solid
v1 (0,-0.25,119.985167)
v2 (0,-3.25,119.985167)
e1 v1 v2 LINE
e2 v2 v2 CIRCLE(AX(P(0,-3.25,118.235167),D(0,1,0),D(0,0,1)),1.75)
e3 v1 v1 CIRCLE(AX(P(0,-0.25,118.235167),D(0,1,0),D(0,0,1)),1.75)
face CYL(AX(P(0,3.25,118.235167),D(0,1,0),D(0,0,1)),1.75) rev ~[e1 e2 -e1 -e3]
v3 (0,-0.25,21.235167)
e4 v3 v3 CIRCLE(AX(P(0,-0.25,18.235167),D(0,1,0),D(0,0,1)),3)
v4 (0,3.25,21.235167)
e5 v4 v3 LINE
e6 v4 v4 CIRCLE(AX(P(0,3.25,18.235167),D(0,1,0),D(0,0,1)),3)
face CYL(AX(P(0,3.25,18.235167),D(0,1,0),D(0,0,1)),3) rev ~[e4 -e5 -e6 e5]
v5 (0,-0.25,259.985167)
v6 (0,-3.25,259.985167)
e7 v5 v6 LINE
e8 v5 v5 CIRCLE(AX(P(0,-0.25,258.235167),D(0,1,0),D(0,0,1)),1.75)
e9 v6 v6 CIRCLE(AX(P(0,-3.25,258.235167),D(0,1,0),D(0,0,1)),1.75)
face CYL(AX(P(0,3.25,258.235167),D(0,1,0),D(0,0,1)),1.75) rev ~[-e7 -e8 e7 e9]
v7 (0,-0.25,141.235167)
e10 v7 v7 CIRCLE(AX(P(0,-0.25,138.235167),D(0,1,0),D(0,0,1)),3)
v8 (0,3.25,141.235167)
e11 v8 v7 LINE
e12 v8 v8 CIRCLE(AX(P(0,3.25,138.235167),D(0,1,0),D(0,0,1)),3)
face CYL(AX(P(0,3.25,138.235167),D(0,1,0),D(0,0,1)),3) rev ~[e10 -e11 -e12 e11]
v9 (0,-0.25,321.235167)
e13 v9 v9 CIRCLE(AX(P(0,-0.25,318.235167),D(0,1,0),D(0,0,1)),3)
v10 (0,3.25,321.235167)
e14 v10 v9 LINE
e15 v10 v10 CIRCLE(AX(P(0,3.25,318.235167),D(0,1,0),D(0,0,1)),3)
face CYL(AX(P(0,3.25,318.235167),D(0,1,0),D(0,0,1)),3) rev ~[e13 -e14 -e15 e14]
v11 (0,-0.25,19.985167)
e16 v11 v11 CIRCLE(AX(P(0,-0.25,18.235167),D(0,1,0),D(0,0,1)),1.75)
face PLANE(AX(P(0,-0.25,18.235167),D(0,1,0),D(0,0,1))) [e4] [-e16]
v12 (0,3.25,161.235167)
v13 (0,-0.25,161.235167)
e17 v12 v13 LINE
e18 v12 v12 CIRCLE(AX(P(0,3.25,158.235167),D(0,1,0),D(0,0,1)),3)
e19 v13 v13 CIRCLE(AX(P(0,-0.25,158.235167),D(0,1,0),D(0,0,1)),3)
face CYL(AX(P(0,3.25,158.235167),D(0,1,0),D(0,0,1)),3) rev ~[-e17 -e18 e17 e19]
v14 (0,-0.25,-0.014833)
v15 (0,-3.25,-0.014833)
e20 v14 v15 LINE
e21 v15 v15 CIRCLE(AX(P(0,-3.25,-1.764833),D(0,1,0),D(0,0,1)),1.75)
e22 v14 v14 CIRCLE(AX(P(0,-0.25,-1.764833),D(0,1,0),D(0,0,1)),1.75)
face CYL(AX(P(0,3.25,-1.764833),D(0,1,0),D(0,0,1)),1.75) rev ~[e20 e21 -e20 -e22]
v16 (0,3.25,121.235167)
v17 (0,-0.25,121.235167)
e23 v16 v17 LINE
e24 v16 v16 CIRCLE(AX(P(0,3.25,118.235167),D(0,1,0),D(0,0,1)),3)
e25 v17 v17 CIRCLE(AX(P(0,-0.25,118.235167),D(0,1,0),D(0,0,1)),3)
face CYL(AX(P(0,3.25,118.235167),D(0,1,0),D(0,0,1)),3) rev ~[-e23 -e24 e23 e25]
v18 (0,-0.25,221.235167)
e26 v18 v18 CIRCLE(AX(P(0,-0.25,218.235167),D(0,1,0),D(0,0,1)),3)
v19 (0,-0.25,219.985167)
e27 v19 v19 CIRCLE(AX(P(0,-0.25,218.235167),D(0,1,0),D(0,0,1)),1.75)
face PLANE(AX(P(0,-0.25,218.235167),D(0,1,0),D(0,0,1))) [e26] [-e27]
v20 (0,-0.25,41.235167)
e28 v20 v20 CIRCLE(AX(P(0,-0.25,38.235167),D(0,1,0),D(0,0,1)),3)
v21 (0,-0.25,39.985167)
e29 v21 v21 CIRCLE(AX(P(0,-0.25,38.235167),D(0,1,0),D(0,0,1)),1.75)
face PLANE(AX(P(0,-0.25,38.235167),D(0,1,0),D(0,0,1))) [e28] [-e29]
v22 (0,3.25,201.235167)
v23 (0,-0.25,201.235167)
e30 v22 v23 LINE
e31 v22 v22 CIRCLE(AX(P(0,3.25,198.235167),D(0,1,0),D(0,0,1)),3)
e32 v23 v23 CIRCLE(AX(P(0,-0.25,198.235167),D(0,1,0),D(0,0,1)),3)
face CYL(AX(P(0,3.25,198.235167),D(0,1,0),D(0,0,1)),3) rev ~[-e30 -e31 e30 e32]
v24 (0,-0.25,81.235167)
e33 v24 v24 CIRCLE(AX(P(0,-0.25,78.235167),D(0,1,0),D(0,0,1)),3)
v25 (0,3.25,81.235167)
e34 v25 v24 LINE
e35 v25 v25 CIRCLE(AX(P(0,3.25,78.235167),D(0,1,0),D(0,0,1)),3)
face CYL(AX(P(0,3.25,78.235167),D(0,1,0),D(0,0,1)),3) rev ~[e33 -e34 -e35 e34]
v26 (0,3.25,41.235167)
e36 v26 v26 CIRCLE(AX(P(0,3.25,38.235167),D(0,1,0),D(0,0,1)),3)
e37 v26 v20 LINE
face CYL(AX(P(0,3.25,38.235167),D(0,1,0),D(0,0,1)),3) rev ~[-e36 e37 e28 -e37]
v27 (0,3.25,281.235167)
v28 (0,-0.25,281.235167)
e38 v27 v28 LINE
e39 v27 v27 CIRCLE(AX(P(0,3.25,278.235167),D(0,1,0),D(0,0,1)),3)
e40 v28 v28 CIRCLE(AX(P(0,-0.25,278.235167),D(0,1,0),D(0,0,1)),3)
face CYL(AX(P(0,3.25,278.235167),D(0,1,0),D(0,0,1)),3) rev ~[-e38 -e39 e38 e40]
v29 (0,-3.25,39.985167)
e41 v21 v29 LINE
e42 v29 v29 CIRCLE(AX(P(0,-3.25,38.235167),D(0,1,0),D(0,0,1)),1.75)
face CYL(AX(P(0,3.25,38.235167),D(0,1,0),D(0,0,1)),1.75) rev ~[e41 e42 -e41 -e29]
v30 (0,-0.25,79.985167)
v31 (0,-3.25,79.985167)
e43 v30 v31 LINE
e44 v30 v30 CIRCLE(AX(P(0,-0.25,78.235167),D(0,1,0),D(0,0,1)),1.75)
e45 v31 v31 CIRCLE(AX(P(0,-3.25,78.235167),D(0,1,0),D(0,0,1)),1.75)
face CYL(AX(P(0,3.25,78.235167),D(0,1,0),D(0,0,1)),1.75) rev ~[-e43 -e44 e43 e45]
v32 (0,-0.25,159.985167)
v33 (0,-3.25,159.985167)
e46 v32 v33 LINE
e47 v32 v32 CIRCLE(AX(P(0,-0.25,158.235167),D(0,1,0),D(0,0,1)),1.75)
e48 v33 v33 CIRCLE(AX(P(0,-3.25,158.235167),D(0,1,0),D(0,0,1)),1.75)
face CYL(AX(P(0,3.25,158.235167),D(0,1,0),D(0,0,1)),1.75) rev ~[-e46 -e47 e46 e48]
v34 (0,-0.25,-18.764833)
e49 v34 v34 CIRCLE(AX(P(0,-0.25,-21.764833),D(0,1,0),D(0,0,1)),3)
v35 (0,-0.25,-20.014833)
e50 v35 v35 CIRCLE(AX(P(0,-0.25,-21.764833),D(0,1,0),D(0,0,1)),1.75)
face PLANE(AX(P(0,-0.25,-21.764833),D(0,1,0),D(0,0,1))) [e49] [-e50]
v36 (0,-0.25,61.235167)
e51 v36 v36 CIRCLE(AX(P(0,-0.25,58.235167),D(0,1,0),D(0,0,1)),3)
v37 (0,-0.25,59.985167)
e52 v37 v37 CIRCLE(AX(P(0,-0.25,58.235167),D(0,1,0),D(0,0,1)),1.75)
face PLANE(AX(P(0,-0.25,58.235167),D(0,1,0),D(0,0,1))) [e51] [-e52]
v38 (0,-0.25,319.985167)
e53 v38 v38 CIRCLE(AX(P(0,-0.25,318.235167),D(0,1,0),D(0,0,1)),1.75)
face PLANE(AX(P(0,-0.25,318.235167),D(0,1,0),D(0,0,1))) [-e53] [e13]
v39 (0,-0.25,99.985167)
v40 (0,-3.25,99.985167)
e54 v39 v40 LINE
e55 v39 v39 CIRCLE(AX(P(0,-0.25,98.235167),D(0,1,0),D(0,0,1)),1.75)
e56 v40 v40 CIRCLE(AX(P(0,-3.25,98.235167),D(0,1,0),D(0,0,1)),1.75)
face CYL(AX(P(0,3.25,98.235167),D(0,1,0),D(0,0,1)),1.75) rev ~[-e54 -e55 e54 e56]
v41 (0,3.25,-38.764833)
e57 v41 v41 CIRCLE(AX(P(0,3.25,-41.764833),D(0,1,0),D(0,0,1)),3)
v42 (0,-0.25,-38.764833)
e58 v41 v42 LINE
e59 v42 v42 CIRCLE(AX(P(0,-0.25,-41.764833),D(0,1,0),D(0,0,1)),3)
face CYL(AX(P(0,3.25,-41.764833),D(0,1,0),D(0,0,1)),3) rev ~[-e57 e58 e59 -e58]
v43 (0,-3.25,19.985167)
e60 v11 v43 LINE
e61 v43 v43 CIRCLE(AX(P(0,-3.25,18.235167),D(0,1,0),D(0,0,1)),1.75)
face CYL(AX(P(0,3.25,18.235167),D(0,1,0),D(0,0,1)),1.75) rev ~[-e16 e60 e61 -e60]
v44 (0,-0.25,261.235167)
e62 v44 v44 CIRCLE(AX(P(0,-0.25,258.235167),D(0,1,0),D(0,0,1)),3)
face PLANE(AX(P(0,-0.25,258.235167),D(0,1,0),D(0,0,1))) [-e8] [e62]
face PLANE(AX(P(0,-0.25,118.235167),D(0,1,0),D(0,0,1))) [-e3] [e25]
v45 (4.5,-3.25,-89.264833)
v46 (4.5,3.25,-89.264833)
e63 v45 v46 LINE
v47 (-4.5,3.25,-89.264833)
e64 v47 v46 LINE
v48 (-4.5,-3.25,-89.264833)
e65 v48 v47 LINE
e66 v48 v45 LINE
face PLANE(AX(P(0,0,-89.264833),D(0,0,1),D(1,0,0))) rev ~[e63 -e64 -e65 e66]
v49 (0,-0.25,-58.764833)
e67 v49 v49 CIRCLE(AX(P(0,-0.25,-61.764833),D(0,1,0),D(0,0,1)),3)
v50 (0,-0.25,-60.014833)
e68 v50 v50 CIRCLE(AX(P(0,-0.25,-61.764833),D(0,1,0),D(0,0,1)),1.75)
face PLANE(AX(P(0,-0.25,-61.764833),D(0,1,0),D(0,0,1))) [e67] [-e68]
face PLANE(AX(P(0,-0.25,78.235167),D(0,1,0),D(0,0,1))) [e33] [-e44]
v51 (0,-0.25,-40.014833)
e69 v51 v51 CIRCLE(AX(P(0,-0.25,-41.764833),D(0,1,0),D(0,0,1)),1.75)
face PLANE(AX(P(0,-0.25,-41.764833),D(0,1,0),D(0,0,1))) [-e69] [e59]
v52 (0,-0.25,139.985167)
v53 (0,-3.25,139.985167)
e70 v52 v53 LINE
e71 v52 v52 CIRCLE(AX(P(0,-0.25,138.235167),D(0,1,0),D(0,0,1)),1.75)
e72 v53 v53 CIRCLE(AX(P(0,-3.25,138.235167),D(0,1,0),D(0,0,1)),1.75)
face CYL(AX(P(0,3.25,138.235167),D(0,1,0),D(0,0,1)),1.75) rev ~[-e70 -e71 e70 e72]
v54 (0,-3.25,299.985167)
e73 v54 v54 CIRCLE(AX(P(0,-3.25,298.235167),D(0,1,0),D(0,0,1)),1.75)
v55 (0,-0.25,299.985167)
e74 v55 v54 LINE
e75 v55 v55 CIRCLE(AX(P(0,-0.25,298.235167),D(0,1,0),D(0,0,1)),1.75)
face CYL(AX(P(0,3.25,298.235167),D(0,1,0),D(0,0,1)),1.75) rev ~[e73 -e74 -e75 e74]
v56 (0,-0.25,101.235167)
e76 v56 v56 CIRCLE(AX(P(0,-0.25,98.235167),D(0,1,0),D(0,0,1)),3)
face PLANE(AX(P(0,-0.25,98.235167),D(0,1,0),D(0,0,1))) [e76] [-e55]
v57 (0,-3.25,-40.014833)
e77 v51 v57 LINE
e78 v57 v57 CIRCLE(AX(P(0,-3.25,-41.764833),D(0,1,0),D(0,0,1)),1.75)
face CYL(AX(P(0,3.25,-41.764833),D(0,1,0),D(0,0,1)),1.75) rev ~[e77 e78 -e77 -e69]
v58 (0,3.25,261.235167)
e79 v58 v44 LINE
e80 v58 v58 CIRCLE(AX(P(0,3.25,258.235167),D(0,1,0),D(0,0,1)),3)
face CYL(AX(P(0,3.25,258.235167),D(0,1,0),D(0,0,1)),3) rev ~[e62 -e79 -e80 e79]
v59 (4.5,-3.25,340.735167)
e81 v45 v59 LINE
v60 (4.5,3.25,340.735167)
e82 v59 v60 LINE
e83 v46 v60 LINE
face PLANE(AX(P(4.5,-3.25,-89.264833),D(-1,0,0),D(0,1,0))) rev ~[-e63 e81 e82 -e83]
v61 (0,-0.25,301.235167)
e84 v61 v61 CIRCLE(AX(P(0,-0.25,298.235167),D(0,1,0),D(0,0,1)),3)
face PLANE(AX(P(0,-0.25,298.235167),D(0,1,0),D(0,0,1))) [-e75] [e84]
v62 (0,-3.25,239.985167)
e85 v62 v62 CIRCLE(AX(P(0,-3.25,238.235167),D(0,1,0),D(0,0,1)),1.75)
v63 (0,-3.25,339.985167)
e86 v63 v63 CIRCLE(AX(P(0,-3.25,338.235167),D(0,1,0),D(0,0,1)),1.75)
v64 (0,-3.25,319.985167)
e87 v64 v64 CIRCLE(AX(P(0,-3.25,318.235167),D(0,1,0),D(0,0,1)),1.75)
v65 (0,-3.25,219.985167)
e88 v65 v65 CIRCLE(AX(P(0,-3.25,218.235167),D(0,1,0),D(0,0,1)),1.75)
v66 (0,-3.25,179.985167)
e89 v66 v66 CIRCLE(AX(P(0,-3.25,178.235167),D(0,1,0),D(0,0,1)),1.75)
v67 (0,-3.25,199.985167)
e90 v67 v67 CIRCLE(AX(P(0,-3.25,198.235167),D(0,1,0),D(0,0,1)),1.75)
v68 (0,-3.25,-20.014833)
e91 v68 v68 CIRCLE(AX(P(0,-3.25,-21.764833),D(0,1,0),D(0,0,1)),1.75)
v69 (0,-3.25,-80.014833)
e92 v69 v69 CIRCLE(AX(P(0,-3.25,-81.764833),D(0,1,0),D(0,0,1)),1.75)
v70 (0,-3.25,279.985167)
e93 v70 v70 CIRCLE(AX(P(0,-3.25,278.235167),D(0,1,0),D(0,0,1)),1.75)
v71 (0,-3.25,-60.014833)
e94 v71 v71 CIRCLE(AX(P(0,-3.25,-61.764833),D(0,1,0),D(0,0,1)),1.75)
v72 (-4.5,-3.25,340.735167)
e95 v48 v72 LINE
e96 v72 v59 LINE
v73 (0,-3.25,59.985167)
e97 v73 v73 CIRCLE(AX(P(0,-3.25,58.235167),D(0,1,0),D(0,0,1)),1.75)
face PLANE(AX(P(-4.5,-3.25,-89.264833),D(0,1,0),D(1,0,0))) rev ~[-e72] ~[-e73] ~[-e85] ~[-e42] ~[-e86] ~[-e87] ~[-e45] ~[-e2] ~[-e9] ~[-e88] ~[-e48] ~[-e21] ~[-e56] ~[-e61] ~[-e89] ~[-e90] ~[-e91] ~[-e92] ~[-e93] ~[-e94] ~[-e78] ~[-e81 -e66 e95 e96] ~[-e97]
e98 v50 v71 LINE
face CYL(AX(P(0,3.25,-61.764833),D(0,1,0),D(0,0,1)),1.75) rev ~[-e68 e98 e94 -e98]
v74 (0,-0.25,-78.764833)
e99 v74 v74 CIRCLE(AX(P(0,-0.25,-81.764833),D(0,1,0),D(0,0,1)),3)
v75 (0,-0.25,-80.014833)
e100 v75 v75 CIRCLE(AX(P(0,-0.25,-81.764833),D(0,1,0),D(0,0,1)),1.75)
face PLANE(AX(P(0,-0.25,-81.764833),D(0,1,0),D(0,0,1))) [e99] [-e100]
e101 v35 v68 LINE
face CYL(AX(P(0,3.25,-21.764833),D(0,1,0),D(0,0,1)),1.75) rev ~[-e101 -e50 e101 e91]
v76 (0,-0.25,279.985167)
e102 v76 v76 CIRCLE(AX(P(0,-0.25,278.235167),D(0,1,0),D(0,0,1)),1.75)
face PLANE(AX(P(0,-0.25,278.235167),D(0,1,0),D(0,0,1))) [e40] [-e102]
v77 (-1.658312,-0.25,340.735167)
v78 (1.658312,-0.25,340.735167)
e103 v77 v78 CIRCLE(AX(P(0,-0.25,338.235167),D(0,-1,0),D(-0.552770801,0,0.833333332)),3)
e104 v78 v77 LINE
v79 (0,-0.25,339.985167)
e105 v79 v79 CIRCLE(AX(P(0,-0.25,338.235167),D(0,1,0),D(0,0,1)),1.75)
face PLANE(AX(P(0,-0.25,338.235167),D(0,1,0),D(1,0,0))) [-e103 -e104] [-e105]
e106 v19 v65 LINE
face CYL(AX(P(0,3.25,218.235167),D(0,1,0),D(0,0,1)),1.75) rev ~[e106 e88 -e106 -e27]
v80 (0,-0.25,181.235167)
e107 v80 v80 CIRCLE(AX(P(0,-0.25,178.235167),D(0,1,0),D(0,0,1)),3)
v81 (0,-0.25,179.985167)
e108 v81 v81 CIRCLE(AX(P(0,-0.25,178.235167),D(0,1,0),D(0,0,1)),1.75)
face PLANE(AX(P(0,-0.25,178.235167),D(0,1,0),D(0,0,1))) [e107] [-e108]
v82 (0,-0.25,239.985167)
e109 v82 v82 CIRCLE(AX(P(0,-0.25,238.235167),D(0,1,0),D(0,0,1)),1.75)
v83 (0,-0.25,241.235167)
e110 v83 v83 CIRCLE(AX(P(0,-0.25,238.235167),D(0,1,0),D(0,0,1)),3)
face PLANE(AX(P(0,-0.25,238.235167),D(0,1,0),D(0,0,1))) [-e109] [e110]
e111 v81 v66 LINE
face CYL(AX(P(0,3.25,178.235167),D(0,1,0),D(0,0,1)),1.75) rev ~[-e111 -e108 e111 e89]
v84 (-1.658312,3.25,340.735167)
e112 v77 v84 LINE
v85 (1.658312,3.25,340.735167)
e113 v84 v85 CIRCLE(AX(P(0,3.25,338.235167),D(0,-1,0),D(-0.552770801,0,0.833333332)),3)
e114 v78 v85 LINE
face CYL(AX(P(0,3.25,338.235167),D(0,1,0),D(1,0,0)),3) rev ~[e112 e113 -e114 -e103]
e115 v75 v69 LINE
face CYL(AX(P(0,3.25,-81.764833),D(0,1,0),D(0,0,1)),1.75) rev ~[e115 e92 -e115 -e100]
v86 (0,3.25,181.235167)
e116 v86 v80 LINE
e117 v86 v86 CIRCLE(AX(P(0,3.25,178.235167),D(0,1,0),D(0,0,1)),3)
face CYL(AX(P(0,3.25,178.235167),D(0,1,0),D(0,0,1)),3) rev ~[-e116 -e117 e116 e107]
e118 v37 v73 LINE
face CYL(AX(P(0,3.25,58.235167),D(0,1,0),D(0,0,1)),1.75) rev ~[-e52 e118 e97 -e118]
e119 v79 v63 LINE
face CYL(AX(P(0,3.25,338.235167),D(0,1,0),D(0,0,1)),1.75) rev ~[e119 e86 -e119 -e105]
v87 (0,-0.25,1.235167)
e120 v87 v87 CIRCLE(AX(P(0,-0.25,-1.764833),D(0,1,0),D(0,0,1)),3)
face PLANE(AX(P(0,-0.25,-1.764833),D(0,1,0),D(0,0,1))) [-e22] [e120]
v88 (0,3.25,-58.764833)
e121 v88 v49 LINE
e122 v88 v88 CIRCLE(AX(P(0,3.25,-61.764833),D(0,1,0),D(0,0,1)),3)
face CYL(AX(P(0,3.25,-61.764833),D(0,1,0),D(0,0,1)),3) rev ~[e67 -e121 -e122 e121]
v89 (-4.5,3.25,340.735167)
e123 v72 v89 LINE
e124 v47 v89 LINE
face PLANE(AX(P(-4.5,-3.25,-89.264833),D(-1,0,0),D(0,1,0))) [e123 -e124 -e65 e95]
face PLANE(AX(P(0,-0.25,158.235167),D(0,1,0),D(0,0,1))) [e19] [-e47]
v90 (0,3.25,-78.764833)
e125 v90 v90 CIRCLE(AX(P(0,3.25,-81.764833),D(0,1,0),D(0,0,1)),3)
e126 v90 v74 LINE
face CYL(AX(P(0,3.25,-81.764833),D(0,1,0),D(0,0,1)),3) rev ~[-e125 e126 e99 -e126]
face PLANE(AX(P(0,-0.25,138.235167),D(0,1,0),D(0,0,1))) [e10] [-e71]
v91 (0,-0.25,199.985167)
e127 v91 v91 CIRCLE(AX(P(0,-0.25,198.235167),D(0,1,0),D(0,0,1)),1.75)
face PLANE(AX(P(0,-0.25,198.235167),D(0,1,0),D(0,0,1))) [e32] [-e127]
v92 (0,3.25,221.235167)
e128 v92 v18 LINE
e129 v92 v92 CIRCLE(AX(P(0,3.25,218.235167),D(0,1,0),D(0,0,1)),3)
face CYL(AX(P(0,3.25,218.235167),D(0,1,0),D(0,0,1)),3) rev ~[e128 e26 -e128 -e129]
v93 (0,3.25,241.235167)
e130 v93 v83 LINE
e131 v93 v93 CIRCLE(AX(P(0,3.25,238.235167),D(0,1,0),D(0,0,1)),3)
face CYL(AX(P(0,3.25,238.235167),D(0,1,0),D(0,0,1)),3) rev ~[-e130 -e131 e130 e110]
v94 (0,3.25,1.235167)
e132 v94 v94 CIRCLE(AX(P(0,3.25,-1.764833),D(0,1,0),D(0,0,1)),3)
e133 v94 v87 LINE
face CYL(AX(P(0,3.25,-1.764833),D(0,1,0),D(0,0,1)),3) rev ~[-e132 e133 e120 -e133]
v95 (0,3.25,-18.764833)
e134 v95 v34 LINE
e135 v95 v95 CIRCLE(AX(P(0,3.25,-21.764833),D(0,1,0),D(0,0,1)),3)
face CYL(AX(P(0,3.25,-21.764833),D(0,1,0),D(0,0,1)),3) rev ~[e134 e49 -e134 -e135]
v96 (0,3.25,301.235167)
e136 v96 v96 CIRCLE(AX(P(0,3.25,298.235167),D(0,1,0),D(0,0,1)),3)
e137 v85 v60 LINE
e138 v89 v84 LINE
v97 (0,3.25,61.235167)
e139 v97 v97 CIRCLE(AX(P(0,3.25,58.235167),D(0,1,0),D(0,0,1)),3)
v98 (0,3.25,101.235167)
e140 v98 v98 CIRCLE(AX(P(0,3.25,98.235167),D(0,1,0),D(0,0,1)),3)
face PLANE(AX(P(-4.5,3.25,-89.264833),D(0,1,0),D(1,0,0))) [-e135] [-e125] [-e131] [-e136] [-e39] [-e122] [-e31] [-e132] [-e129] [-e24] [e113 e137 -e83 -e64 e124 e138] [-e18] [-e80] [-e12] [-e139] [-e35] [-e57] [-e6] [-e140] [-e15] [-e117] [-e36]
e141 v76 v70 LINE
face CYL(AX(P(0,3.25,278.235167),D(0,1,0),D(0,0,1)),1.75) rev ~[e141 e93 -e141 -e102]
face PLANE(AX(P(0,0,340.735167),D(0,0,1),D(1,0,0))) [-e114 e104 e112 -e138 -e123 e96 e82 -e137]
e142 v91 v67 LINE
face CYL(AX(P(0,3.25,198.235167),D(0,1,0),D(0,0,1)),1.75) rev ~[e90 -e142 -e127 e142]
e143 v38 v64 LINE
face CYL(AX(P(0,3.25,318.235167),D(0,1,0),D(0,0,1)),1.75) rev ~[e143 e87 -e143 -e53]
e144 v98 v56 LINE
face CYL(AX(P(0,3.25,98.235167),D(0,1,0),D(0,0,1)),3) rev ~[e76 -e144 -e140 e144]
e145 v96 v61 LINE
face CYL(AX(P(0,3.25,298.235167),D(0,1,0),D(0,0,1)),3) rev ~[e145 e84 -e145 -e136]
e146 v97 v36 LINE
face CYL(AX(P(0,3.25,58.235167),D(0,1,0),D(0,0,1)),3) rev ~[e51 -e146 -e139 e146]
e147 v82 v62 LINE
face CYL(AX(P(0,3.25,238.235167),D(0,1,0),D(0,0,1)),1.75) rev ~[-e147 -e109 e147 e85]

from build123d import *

# Parameters (mm, degrees)
SKETCH_1_W          = 9
SKETCH_1_H          = 6.5
EXTRUDE_1_DEPTH     = 430
SKETCH_2_R          = 1.750000006
CUT_EXTRUDE_1_DEPTH = 341.826868595
SKETCH_3_R          = 3.000000006
CUT_EXTRUDE_2_DEPTH = 3.5


with BuildPart() as part:
    # 草图1 → 凸台-拉伸1 (new body)
    with BuildSketch(Plane.XY.offset(-89.264832522)):
        Rectangle(SKETCH_1_W, SKETCH_1_H)
    extrude(amount=EXTRUDE_1_DEPTH)

    # 草图2 → 切除-拉伸1 (cut, through all)
    with BuildSketch(Plane(origin=(0, 3.25, 0), x_dir=(1, 0, 0), z_dir=(0, 1, 0))):
        with Locations(Location((0, 81.764832522, 0), (0, 0, 270))):
            Circle(SKETCH_2_R)
        with Locations(Location((0, 61.764832522, 0), (0, 0, 270))):
            Circle(SKETCH_2_R)
        with Locations(Location((0, 41.764832522, 0), (0, 0, 270))):
            Circle(SKETCH_2_R)
        with Locations(Location((0, 21.764832522, 0), (0, 0, 270))):
            Circle(SKETCH_2_R)
        with Locations(Location((0, 1.764832522, 0), (0, 0, 270))):
            Circle(SKETCH_2_R)
        with Locations(Location((0, -18.235167478, 0), (0, 0, 270))):
            Circle(SKETCH_2_R)
        with Locations(Location((0, -38.235167478, 0), (0, 0, 270))):
            Circle(SKETCH_2_R)
        with Locations(Location((0, -58.235167478, 0), (0, 0, 270))):
            Circle(SKETCH_2_R)
        with Locations(Location((0, -78.235167478, 0), (0, 0, 270))):
            Circle(SKETCH_2_R)
        with Locations(Location((0, -98.235167478, 0), (0, 0, 270))):
            Circle(SKETCH_2_R)
        with Locations(Location((0, -118.235167478, 0), (0, 0, 270))):
            Circle(SKETCH_2_R)
        with Locations(Location((0, -138.235167478, 0), (0, 0, 270))):
            Circle(SKETCH_2_R)
        with Locations(Location((0, -158.235167478, 0), (0, 0, 270))):
            Circle(SKETCH_2_R)
        with Locations(Location((0, -178.235167478, 0), (0, 0, 270))):
            Circle(SKETCH_2_R)
        with Locations(Location((0, -198.235167478, 0), (0, 0, 270))):
            Circle(SKETCH_2_R)
        with Locations(Location((0, -218.235167478, 0), (0, 0, 270))):
            Circle(SKETCH_2_R)
        with Locations(Location((0, -238.235167478, 0), (0, 0, 270))):
            Circle(SKETCH_2_R)
        with Locations(Location((0, -258.235167478, 0), (0, 0, 270))):
            Circle(SKETCH_2_R)
        with Locations(Location((0, -278.235167478, 0), (0, 0, 270))):
            Circle(SKETCH_2_R)
        with Locations(Location((0, -298.235167478, 0), (0, 0, 270))):
            Circle(SKETCH_2_R)
        with Locations(Location((0, -318.235167478, 0), (0, 0, 270))):
            Circle(SKETCH_2_R)
        with Locations(Location((0, -338.235167478, 0), (0, 0, 270))):
            Circle(SKETCH_2_R)
        with Locations((0, -358.235167478)):
            Circle(SKETCH_2_R)
        with Locations((0, -378.235167478)):
            Circle(SKETCH_2_R)
        with Locations((0, -398.235167478)):
            Circle(SKETCH_2_R)
        with Locations((0, -418.235167478)):
            Circle(SKETCH_2_R)
        with Locations((0, -438.235167478)):
            Circle(SKETCH_2_R)
        with Locations((0, -458.235167478)):
            Circle(SKETCH_2_R)
        with Locations((0, -478.235167478)):
            Circle(SKETCH_2_R)
        with Locations((0, -498.235167478)):
            Circle(SKETCH_2_R)
        with Locations((0, -518.235167478)):
            Circle(SKETCH_2_R)
        with Locations((0, -538.235167478)):
            Circle(SKETCH_2_R)
        with Locations((0, -558.235167478)):
            Circle(SKETCH_2_R)
        with Locations((0, -578.235167478)):
            Circle(SKETCH_2_R)
        with Locations((0, -598.235167478)):
            Circle(SKETCH_2_R)
        with Locations((0, -618.235167478)):
            Circle(SKETCH_2_R)
        with Locations((0, -638.235167478)):
            Circle(SKETCH_2_R)
        with Locations((0, -658.235167478)):
            Circle(SKETCH_2_R)
        with Locations((0, -678.235167478)):
            Circle(SKETCH_2_R)
        with Locations((0, -698.235167478)):
            Circle(SKETCH_2_R)
        with Locations((0, -718.235167478)):
            Circle(SKETCH_2_R)
        with Locations((0, -738.235167478)):
            Circle(SKETCH_2_R)
        with Locations((0, -758.235167478)):
            Circle(SKETCH_2_R)
        with Locations((0, -778.235167478)):
            Circle(SKETCH_2_R)
        with Locations((0, -798.235167478)):
            Circle(SKETCH_2_R)
        with Locations((0, -818.235167478)):
            Circle(SKETCH_2_R)
        with Locations((0, -838.235167478)):
            Circle(SKETCH_2_R)
        with Locations((0, -858.235167478)):
            Circle(SKETCH_2_R)
        with Locations((0, -878.235167478)):
            Circle(SKETCH_2_R)
        with Locations((0, -898.235167478)):
            Circle(SKETCH_2_R)
        with Locations((0, -918.235167478)):
            Circle(SKETCH_2_R)
        with Locations((0, -938.235167478)):
            Circle(SKETCH_2_R)
        with Locations((0, -958.235167478)):
            Circle(SKETCH_2_R)
        with Locations((0, -978.235167478)):
            Circle(SKETCH_2_R)
        with Locations((0, -998.235167478)):
            Circle(SKETCH_2_R)
        with Locations((0, -1018.235167478)):
            Circle(SKETCH_2_R)
        with Locations((0, -1038.235167478)):
            Circle(SKETCH_2_R)
        with Locations((0, -1058.235167478)):
            Circle(SKETCH_2_R)
        with Locations((0, -1078.235167478)):
            Circle(SKETCH_2_R)
        with Locations((0, -1098.235167478)):
            Circle(SKETCH_2_R)
    extrude(amount=-CUT_EXTRUDE_1_DEPTH, mode=Mode.SUBTRACT)

    # 草图3 → 切除-拉伸2 (cut)
    with BuildSketch(Plane(origin=(0, 3.25, 0), x_dir=(1, 0, 0), z_dir=(0, 1, 0))):
        with Locations(Location((0, 81.764832522, 0), (0, 0, 270))):
            Circle(SKETCH_3_R)
        with Locations(Location((0, 61.764832522, 0), (0, 0, 270))):
            Circle(SKETCH_3_R)
        with Locations(Location((0, 41.764832522, 0), (0, 0, 270))):
            Circle(SKETCH_3_R)
        with Locations(Location((0, 21.764832522, 0), (0, 0, 270))):
            Circle(SKETCH_3_R)
        with Locations(Location((0, 1.764832522, 0), (0, 0, 270))):
            Circle(SKETCH_3_R)
        with Locations(Location((0, -18.235167478, 0), (0, 0, 270))):
            Circle(SKETCH_3_R)
        with Locations(Location((0, -38.235167478, 0), (0, 0, 270))):
            Circle(SKETCH_3_R)
        with Locations(Location((0, -58.235167478, 0), (0, 0, 270))):
            Circle(SKETCH_3_R)
        with Locations(Location((0, -78.235167478, 0), (0, 0, 270))):
            Circle(SKETCH_3_R)
        with Locations(Location((0, -98.235167478, 0), (0, 0, 270))):
            Circle(SKETCH_3_R)
        with Locations(Location((0, -118.235167478, 0), (0, 0, 270))):
            Circle(SKETCH_3_R)
        with Locations(Location((0, -138.235167478, 0), (0, 0, 270))):
            Circle(SKETCH_3_R)
        with Locations(Location((0, -158.235167478, 0), (0, 0, 270))):
            Circle(SKETCH_3_R)
        with Locations(Location((0, -178.235167478, 0), (0, 0, 270))):
            Circle(SKETCH_3_R)
        with Locations(Location((0, -198.235167478, 0), (0, 0, 270))):
            Circle(SKETCH_3_R)
        with Locations(Location((0, -218.235167478, 0), (0, 0, 270))):
            Circle(SKETCH_3_R)
        with Locations(Location((0, -238.235167478, 0), (0, 0, 270))):
            Circle(SKETCH_3_R)
        with Locations(Location((0, -258.235167478, 0), (0, 0, 270))):
            Circle(SKETCH_3_R)
        with Locations(Location((0, -278.235167478, 0), (0, 0, 270))):
            Circle(SKETCH_3_R)
        with Locations(Location((0, -298.235167478, 0), (0, 0, 270))):
            Circle(SKETCH_3_R)
        with Locations(Location((0, -318.235167478, 0), (0, 0, 270))):
            Circle(SKETCH_3_R)
        with Locations((0, -338.235167478)):
            Circle(SKETCH_3_R)
        with Locations((0, -358.235167478)):
            Circle(SKETCH_3_R)
        with Locations((0, -378.235167478)):
            Circle(SKETCH_3_R)
        with Locations((0, -398.235167478)):
            Circle(SKETCH_3_R)
        with Locations((0, -418.235167478)):
            Circle(SKETCH_3_R)
        with Locations((0, -438.235167478)):
            Circle(SKETCH_3_R)
        with Locations((0, -458.235167478)):
            Circle(SKETCH_3_R)
        with Locations((0, -478.235167478)):
            Circle(SKETCH_3_R)
        with Locations((0, -498.235167478)):
            Circle(SKETCH_3_R)
        with Locations((0, -518.235167478)):
            Circle(SKETCH_3_R)
        with Locations((0, -538.235167478)):
            Circle(SKETCH_3_R)
        with Locations((0, -558.235167478)):
            Circle(SKETCH_3_R)
        with Locations((0, -578.235167478)):
            Circle(SKETCH_3_R)
        with Locations((0, -598.235167478)):
            Circle(SKETCH_3_R)
        with Locations((0, -618.235167478)):
            Circle(SKETCH_3_R)
        with Locations((0, -638.235167478)):
            Circle(SKETCH_3_R)
        with Locations((0, -658.235167478)):
            Circle(SKETCH_3_R)
        with Locations((0, -678.235167478)):
            Circle(SKETCH_3_R)
        with Locations((0, -698.235167478)):
            Circle(SKETCH_3_R)
        with Locations((0, -718.235167478)):
            Circle(SKETCH_3_R)
        with Locations((0, -738.235167478)):
            Circle(SKETCH_3_R)
        with Locations((0, -758.235167478)):
            Circle(SKETCH_3_R)
        with Locations((0, -778.235167478)):
            Circle(SKETCH_3_R)
        with Locations((0, -798.235167478)):
            Circle(SKETCH_3_R)
        with Locations((0, -818.235167478)):
            Circle(SKETCH_3_R)
        with Locations((0, -838.235167478)):
            Circle(SKETCH_3_R)
        with Locations((0, -858.235167478)):
            Circle(SKETCH_3_R)
        with Locations((0, -878.235167478)):
            Circle(SKETCH_3_R)
        with Locations((0, -898.235167478)):
            Circle(SKETCH_3_R)
        with Locations((0, -918.235167478)):
            Circle(SKETCH_3_R)
        with Locations((0, -938.235167478)):
            Circle(SKETCH_3_R)
        with Locations((0, -958.235167478)):
            Circle(SKETCH_3_R)
        with Locations((0, -978.235167478)):
            Circle(SKETCH_3_R)
        with Locations((0, -998.235167478)):
            Circle(SKETCH_3_R)
        with Locations((0, -1018.235167478)):
            Circle(SKETCH_3_R)
        with Locations((0, -1038.235167478)):
            Circle(SKETCH_3_R)
        with Locations((0, -1058.235167478)):
            Circle(SKETCH_3_R)
        with Locations((0, -1078.235167478)):
            Circle(SKETCH_3_R)
        with Locations((0, -1098.235167478)):
            Circle(SKETCH_3_R)
    extrude(amount=-CUT_EXTRUDE_2_DEPTH, mode=Mode.SUBTRACT)


solid = part.part
